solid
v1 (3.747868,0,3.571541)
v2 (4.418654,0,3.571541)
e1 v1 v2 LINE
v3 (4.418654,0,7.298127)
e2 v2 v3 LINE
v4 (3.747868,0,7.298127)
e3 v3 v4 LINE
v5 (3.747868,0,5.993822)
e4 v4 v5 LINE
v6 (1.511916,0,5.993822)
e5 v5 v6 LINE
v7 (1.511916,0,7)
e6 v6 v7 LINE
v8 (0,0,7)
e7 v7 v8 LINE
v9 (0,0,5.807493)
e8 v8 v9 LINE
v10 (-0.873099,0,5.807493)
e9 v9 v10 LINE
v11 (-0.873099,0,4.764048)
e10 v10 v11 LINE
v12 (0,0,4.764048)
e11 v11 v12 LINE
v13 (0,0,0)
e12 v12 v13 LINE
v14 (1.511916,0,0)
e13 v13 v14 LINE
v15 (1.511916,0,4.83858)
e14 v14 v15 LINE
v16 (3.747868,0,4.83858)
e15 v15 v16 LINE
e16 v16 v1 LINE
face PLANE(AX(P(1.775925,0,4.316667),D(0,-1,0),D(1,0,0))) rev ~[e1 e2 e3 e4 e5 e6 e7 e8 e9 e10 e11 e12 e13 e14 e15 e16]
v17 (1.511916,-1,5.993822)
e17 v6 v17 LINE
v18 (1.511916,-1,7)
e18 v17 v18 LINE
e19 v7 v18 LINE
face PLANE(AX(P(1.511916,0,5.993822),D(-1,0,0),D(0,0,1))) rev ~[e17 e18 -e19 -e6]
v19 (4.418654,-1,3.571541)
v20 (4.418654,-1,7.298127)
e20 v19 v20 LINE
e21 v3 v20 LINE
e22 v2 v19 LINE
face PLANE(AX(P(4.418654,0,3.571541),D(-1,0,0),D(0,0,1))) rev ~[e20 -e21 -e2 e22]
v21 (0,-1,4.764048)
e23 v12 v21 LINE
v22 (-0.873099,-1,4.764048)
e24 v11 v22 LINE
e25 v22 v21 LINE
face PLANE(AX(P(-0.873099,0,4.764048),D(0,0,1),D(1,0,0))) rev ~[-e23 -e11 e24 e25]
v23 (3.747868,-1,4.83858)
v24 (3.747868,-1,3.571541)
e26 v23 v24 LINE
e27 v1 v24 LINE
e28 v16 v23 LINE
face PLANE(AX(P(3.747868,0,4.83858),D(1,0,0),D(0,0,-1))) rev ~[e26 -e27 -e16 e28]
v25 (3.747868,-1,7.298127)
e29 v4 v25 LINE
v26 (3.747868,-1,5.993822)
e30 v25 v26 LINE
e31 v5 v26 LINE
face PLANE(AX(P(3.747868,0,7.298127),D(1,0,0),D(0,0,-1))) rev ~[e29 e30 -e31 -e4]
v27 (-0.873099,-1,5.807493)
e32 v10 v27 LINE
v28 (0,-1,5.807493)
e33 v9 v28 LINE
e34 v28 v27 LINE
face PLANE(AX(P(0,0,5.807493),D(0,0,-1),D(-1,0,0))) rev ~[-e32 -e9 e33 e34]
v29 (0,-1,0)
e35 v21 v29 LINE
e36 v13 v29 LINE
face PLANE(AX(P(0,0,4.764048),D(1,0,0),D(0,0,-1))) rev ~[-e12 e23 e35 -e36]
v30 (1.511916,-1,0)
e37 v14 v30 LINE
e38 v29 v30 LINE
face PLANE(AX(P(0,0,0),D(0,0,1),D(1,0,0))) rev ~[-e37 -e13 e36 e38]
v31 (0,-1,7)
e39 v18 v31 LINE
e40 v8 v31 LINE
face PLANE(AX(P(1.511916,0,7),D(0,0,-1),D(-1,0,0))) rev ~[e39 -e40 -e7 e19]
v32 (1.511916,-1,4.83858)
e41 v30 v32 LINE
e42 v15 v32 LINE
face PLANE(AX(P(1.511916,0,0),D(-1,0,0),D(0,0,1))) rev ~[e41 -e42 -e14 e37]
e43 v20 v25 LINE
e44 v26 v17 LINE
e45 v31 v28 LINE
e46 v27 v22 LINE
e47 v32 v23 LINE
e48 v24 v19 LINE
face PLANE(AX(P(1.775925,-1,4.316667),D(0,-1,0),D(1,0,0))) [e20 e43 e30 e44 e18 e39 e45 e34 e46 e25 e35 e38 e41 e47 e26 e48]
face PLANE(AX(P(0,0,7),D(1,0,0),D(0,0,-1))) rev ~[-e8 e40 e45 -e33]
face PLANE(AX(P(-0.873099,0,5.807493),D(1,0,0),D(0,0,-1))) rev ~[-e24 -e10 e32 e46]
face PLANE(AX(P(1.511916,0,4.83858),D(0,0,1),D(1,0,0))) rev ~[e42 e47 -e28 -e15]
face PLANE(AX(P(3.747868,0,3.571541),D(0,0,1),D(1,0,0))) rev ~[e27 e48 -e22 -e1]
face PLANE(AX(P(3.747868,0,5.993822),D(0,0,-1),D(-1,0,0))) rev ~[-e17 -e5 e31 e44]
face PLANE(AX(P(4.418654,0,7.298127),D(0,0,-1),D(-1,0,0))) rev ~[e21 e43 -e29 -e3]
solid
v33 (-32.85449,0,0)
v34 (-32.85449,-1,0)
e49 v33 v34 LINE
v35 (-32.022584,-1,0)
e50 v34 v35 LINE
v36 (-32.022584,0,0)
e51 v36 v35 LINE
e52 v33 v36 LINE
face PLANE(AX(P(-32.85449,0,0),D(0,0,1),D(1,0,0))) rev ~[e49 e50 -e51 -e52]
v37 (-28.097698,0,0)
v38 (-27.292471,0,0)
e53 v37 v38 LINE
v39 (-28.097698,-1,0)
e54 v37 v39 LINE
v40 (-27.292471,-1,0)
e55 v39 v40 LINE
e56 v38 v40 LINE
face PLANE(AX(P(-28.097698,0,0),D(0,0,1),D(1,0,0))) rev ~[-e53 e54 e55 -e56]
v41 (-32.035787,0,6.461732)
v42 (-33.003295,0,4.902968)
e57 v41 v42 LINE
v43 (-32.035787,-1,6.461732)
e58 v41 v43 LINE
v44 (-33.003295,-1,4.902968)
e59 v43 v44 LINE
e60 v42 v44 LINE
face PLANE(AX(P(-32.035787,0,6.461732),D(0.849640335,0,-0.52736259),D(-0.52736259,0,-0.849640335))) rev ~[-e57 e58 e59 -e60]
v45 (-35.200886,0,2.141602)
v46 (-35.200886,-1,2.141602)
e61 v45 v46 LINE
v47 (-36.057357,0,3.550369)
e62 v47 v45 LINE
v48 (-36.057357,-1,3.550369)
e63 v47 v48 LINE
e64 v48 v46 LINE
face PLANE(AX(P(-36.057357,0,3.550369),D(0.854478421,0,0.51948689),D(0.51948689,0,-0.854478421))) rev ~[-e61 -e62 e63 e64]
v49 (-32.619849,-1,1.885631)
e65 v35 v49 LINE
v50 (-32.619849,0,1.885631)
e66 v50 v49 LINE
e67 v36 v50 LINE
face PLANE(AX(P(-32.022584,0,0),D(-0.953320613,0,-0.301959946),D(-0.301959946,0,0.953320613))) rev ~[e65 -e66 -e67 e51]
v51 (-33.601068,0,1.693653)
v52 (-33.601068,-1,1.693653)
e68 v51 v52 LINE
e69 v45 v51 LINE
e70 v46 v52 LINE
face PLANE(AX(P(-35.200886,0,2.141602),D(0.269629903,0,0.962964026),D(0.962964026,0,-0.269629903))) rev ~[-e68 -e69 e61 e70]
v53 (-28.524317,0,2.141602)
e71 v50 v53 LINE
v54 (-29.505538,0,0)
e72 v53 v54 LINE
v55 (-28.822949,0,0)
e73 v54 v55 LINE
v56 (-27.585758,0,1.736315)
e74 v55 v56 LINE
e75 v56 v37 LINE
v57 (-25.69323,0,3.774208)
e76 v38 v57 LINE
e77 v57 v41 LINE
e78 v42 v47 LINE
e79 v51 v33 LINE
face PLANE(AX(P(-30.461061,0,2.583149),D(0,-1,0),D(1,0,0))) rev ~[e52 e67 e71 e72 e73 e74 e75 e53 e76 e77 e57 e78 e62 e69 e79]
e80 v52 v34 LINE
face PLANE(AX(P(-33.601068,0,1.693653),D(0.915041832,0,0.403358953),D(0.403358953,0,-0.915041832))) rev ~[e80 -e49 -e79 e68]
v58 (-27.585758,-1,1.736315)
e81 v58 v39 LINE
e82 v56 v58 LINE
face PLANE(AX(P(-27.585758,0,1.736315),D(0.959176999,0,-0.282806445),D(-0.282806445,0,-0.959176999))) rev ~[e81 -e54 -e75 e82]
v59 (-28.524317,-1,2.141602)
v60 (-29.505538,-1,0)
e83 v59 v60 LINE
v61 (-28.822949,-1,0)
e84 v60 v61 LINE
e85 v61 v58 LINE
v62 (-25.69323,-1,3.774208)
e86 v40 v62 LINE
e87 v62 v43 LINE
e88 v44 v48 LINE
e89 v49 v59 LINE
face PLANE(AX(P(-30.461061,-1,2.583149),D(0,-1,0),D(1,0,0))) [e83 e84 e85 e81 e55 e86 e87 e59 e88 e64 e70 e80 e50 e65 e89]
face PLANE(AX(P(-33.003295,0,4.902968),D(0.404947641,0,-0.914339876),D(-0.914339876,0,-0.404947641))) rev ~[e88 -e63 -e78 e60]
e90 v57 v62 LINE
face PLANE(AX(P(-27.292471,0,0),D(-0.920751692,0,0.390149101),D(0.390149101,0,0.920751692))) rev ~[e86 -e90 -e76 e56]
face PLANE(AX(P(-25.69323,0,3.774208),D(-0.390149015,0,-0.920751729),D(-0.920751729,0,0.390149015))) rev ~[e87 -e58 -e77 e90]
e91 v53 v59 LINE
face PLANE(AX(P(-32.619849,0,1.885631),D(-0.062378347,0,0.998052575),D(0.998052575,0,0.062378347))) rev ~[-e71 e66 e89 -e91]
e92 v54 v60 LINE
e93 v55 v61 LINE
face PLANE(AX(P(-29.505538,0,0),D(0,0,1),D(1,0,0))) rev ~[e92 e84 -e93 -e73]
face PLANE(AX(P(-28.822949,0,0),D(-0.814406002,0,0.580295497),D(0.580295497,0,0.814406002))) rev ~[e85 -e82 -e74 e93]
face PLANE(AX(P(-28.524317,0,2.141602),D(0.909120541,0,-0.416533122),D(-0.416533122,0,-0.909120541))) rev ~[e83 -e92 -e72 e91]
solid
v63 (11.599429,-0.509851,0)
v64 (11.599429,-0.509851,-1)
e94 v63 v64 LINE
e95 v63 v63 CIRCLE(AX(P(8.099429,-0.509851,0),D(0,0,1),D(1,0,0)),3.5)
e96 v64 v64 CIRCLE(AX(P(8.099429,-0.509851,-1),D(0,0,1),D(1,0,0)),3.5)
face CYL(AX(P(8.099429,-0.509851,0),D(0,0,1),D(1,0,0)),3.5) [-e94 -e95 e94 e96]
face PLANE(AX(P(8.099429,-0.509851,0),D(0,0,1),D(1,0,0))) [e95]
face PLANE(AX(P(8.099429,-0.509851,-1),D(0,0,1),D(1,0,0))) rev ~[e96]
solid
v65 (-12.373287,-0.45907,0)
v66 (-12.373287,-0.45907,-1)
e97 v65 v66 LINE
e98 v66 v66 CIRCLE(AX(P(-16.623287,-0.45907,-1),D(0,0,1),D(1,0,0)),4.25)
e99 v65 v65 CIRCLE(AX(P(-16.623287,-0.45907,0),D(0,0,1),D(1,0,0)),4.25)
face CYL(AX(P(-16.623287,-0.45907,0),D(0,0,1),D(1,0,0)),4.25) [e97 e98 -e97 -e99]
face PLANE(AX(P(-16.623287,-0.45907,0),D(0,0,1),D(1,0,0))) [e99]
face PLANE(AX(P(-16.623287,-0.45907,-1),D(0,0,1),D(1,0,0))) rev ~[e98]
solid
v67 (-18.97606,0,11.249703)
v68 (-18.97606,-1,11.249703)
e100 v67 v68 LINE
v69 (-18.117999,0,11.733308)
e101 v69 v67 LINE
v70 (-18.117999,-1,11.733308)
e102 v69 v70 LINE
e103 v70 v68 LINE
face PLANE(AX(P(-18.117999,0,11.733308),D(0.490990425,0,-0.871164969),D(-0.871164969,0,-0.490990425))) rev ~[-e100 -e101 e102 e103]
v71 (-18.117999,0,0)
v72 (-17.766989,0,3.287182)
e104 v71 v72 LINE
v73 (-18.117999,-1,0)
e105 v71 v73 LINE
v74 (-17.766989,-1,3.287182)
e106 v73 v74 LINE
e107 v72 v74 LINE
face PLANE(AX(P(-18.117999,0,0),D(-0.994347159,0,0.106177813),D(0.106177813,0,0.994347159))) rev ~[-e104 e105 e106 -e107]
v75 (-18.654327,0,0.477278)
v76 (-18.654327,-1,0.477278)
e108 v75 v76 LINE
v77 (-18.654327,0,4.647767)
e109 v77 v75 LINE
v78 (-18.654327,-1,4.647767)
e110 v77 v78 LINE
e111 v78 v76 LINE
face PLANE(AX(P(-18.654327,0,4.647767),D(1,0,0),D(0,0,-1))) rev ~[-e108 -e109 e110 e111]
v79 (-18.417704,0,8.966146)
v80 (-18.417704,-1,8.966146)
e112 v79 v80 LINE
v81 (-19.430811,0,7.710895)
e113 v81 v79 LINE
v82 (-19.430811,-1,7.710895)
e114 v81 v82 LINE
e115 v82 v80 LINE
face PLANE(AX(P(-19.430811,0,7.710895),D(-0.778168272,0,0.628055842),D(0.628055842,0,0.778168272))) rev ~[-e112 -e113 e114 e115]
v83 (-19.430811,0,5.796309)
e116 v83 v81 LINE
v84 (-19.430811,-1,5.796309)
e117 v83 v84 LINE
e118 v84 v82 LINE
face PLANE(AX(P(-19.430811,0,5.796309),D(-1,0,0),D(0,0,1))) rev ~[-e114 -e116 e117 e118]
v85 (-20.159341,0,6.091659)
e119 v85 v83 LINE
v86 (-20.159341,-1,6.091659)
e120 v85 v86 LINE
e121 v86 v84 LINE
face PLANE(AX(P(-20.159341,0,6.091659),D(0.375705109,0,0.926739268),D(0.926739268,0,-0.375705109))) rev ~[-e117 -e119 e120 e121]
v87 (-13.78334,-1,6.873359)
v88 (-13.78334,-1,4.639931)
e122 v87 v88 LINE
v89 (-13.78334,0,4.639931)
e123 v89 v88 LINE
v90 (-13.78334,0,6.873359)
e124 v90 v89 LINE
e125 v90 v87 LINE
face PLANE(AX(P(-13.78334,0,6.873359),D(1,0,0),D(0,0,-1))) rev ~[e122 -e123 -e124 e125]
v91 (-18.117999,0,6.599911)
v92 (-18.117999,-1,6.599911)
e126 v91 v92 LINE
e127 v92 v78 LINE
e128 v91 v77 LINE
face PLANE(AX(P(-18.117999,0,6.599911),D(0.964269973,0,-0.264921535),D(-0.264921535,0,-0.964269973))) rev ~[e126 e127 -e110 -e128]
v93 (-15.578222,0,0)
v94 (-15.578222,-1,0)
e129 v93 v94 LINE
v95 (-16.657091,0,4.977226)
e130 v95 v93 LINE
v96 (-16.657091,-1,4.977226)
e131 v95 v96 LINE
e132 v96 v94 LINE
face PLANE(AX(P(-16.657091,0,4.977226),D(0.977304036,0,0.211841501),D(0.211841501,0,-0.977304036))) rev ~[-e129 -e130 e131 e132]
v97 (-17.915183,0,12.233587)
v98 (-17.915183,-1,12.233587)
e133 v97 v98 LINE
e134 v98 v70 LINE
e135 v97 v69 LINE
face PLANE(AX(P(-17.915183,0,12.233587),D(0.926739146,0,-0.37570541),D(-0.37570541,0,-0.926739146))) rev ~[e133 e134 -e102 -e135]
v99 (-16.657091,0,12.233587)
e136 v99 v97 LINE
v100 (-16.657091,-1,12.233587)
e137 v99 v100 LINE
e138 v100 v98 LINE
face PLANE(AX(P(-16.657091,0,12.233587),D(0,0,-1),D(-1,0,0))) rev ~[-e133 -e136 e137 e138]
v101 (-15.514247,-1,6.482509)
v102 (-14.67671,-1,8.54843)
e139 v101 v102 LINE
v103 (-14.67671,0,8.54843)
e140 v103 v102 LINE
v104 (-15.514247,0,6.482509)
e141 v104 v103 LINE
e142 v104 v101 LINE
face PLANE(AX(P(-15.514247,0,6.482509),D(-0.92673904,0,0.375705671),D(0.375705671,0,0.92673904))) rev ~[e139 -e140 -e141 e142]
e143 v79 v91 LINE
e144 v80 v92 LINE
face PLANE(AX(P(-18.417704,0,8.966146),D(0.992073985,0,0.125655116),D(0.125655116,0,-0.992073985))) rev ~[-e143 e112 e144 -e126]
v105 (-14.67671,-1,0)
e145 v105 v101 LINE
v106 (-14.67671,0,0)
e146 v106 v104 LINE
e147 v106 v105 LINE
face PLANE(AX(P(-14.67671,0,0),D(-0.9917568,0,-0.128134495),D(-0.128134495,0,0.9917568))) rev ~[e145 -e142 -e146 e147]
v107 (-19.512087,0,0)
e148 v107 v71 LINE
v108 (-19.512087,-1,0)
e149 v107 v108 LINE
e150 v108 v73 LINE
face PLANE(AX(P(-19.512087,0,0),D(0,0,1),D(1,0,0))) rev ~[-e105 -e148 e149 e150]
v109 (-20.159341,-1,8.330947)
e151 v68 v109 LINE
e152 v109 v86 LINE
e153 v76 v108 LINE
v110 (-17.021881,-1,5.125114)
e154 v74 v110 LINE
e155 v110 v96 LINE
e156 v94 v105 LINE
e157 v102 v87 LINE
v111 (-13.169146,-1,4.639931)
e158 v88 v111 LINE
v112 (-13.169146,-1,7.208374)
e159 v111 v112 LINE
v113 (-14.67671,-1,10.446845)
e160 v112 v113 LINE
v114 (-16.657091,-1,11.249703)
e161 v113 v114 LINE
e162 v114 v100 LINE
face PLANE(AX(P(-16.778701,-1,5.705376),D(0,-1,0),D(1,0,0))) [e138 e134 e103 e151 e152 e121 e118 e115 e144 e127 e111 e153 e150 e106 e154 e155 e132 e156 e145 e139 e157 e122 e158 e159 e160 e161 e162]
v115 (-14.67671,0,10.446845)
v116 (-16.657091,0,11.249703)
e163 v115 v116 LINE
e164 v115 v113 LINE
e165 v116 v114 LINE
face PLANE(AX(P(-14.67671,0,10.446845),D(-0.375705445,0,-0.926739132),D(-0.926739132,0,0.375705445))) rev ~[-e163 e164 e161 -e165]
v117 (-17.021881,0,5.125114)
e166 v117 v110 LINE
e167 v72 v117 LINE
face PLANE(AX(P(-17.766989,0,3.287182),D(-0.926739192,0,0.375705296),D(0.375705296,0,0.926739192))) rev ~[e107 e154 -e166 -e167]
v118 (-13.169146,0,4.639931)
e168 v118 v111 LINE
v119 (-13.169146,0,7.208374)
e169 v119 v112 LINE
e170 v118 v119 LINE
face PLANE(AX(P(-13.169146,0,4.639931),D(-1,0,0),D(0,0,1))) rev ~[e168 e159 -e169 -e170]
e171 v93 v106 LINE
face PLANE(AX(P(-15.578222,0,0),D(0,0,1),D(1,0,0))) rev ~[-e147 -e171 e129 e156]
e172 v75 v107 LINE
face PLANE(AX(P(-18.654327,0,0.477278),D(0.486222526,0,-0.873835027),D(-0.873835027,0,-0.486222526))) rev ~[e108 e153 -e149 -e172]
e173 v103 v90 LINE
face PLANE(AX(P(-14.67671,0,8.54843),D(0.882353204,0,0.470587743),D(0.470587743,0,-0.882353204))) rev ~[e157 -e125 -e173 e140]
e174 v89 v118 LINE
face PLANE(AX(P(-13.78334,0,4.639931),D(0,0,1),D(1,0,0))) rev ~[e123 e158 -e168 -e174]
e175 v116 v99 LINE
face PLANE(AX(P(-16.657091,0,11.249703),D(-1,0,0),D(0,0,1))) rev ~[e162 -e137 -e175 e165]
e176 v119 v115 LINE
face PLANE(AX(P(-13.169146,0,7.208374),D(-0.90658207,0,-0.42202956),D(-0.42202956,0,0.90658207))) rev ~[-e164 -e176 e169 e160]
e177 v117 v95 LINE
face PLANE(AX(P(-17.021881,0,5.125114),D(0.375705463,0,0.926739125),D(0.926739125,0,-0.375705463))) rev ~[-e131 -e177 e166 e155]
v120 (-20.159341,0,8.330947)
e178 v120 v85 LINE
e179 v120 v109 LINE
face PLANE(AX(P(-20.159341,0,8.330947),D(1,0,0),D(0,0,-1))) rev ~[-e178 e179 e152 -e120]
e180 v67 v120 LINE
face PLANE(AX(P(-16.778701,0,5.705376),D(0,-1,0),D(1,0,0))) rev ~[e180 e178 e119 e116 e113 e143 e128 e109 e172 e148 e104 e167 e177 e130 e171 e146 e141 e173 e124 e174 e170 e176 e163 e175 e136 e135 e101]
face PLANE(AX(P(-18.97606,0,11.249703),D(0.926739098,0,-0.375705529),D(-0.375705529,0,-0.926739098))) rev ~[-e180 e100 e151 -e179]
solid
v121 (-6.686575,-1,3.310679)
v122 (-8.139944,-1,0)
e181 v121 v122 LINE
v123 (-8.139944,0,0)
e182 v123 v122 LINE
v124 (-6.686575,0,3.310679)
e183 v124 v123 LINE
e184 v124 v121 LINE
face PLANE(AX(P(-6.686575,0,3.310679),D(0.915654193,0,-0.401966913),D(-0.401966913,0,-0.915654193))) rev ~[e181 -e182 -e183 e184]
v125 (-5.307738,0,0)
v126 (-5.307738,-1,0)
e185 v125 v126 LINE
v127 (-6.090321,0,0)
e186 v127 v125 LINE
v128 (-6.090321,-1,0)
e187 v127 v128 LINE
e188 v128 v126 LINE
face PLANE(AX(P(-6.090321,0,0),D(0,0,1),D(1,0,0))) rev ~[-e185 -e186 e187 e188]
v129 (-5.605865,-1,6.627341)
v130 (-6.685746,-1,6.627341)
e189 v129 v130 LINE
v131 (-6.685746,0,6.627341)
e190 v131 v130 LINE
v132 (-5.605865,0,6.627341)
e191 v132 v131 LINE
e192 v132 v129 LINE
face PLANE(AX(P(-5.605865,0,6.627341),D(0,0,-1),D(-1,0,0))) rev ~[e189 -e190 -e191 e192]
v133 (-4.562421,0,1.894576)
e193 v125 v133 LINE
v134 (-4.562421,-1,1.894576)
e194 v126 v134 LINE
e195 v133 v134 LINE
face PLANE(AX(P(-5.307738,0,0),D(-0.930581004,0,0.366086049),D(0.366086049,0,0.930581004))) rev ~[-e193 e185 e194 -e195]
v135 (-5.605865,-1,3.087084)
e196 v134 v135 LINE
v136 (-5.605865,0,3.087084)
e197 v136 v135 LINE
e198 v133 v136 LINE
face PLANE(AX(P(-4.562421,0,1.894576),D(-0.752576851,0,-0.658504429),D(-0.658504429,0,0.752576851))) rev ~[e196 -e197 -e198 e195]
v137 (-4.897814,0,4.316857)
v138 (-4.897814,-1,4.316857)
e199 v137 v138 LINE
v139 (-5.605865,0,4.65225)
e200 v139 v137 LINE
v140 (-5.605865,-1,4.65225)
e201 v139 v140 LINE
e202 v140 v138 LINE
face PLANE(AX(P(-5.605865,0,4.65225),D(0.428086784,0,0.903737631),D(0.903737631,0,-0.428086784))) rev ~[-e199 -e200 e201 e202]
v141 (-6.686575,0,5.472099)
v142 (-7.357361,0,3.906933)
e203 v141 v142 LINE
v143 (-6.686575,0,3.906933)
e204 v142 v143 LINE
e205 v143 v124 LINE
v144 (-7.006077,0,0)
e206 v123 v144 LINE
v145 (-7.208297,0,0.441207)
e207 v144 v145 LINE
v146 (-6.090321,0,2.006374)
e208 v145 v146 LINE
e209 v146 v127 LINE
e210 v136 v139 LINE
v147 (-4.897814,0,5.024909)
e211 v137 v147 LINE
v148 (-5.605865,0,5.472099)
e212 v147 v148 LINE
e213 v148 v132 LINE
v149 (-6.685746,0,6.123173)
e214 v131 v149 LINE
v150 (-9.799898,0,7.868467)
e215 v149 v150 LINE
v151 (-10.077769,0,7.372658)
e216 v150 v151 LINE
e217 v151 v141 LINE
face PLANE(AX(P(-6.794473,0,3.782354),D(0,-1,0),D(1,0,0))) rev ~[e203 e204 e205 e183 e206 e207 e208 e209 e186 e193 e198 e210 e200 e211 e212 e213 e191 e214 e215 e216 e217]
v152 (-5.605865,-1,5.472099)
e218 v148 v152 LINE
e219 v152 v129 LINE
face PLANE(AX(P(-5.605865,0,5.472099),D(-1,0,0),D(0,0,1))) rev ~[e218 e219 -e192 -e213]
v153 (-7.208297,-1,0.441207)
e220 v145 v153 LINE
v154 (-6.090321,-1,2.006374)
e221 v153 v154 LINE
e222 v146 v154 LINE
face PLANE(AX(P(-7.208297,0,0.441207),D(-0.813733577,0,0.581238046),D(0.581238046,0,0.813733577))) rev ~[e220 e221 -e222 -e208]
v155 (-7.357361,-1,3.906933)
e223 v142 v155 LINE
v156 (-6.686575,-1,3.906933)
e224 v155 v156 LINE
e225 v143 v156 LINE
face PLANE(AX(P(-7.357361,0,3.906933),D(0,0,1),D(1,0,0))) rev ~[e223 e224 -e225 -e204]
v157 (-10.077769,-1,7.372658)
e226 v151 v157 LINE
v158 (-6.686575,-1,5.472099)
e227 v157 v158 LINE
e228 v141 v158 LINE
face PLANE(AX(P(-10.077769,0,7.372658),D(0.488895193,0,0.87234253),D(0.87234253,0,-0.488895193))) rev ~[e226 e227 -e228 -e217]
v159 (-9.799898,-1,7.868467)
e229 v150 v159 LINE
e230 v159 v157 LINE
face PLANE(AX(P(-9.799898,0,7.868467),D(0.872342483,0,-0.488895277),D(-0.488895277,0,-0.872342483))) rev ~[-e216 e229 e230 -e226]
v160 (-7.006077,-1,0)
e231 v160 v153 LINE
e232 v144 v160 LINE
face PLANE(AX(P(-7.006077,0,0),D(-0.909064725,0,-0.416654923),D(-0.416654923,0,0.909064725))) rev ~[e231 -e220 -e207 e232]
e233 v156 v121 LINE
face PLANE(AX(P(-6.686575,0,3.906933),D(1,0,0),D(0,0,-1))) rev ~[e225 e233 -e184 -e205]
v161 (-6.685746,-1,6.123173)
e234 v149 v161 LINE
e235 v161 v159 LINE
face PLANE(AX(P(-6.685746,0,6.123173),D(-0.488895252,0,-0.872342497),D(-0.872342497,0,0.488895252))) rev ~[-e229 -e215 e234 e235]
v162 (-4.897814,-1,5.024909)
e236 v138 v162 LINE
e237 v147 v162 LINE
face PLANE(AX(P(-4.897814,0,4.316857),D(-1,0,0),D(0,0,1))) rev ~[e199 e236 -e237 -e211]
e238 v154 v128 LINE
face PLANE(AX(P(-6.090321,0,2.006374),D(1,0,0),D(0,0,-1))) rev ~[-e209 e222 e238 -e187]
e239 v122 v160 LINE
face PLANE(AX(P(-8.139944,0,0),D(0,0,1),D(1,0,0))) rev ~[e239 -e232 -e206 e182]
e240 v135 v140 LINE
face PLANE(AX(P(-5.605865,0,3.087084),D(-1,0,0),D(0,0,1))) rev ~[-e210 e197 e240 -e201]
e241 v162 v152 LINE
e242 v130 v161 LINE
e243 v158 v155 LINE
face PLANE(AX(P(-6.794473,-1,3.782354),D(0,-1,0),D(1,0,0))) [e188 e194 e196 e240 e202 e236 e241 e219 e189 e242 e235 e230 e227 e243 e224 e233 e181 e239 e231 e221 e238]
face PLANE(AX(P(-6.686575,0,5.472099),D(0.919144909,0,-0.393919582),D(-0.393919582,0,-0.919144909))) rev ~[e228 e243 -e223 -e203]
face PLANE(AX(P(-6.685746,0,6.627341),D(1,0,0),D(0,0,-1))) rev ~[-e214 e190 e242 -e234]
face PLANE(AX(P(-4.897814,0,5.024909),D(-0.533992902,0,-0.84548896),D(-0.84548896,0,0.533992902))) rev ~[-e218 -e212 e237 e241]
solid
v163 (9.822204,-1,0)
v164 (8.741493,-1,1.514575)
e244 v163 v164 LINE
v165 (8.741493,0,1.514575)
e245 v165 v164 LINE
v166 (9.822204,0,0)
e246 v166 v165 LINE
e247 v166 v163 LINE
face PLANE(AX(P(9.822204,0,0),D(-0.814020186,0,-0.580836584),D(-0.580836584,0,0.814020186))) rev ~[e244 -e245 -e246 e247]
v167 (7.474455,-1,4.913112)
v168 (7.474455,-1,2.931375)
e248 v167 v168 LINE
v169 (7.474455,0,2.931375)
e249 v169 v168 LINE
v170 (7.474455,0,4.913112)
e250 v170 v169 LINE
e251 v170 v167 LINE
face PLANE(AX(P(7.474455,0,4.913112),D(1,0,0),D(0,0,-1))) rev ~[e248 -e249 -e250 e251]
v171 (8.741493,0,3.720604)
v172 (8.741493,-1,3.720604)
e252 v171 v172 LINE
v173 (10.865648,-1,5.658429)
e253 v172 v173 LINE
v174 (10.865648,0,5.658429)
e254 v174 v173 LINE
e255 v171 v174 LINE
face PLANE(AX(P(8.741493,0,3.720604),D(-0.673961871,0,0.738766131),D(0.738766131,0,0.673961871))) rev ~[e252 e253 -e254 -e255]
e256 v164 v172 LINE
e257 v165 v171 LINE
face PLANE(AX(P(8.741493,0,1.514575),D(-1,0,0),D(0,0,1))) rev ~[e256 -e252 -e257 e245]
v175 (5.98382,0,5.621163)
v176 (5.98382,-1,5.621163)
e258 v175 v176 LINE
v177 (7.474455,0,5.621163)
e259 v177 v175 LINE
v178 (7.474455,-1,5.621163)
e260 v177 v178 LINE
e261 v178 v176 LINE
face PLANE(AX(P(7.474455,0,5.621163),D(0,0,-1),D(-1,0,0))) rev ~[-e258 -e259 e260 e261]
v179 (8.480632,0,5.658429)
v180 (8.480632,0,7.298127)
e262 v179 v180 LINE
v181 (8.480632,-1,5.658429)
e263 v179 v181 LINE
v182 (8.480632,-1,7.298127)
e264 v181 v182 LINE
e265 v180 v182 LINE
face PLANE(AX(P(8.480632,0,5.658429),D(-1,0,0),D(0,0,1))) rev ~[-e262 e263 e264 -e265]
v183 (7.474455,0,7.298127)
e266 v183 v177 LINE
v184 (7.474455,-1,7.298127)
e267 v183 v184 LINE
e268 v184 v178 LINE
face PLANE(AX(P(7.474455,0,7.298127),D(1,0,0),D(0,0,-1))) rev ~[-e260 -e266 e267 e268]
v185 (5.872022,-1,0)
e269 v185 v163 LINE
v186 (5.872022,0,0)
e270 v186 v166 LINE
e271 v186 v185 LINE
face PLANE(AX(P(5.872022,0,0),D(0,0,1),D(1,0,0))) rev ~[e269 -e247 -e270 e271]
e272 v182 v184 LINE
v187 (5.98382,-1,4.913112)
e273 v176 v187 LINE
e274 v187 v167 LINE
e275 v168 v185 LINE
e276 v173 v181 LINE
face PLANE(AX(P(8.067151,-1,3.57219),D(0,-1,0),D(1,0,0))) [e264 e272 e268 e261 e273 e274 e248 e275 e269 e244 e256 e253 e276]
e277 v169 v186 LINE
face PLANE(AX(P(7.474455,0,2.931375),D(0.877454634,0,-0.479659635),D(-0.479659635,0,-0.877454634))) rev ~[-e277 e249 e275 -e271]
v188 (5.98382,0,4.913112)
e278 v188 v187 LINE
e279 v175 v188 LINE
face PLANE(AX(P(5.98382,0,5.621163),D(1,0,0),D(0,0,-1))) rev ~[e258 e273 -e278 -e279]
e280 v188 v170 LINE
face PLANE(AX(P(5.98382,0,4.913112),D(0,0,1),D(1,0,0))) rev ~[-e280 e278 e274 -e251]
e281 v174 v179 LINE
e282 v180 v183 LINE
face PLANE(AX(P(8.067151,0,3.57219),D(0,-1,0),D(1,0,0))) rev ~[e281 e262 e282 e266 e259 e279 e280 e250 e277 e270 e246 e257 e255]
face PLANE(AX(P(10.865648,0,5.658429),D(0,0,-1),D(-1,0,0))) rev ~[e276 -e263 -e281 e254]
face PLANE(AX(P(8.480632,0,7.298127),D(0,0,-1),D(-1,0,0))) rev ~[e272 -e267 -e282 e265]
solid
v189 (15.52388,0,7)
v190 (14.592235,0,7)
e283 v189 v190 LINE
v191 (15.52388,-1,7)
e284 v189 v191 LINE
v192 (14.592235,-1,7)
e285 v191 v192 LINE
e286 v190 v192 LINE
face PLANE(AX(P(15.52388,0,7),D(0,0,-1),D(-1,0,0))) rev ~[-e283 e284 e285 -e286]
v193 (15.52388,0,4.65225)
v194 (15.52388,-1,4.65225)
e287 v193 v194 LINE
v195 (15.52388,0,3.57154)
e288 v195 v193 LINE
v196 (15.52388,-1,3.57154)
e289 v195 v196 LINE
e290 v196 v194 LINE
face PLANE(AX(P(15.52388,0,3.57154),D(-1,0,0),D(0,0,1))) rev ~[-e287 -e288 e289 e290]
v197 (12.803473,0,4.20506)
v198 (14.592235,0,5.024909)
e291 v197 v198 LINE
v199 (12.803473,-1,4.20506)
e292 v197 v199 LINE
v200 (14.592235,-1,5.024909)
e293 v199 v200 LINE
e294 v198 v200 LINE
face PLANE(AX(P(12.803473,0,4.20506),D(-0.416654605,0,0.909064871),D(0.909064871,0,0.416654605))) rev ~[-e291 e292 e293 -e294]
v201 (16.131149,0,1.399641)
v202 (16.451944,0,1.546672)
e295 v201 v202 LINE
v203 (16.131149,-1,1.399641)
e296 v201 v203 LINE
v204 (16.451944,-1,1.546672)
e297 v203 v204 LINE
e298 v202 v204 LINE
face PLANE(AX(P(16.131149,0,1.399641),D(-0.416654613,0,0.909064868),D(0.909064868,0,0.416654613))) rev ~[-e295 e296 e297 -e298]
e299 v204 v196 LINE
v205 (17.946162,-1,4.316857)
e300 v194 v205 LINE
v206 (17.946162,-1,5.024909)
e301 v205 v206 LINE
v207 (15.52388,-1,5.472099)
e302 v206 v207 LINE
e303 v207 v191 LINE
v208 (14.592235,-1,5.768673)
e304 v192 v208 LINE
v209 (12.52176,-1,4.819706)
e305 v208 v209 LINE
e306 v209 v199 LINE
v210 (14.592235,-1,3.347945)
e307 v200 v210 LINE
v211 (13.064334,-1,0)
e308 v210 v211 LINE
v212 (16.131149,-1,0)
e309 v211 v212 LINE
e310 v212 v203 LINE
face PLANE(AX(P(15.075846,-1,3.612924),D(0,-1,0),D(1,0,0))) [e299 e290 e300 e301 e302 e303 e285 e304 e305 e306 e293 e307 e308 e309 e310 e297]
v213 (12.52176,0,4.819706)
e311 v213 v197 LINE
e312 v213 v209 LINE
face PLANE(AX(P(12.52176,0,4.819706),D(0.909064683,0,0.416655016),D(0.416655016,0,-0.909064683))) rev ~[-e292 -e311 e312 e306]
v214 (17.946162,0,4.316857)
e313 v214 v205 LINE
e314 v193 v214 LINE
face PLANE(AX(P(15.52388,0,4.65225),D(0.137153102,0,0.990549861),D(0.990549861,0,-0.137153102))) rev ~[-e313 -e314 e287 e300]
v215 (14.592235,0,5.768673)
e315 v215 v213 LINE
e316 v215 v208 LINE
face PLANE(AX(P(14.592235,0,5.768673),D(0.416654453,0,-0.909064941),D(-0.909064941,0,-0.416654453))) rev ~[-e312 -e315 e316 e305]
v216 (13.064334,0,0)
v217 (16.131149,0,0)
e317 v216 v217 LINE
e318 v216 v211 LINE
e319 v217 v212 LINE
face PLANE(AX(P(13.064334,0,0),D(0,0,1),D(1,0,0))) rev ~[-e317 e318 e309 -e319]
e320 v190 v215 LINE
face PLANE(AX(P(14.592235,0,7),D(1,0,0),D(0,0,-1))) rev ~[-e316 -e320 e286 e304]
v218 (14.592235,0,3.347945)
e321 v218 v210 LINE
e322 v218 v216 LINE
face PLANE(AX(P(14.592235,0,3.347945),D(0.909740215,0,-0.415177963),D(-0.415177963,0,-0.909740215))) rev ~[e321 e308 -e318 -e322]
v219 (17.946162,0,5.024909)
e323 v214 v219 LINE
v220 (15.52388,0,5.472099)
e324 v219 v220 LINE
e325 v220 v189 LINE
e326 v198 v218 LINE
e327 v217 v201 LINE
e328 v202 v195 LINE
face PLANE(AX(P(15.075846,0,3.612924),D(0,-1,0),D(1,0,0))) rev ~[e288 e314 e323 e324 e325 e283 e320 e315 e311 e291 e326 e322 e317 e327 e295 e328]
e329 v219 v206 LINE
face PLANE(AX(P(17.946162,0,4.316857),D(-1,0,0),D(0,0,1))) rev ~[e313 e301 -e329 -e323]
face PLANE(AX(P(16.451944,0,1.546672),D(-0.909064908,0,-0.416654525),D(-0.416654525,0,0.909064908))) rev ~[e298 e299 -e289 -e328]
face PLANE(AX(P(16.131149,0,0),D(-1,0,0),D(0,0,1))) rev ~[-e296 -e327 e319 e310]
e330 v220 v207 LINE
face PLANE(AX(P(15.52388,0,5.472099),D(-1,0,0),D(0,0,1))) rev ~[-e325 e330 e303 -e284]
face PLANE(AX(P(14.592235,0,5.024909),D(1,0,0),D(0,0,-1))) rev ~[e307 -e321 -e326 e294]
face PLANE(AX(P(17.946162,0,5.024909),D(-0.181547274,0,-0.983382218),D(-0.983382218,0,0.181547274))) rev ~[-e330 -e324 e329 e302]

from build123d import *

# Parameters (mm, degrees)
F1_DEPTH = 1
F2_R     = 3.5
F3_DEPTH = 1
F2_R_2   = 4.25
F4_DEPTH = 1


with BuildPart() as f1:
    # F0 (on Front) → F1 (new body)
    with BuildSketch(Plane.XZ):
        Polygon((0, 2.931375), (0, 0), (1.511916, 0), (1.511916, 4.83858), (3.747868, 4.83858), (3.747868, 3.571541), (4.418654, 3.571541), (4.418654, 7.298127), (3.747868, 7.298127), (3.747868, 5.993822), (1.511916, 5.993822), (1.511916, 7), (0, 7), (0, 5.807493), (-0.873099, 5.807493), (-0.873099, 4.764048), (0, 4.764048), align=None)
        Polygon((7.474455, 2.931375), (5.872022, 0), (9.822204, 0), (8.741493, 1.514575), (8.741493, 3.720604), (10.865648, 5.658429), (8.480632, 5.658429), (8.480632, 7.298127), (7.474455, 7.298127), (7.474455, 5.621163), (5.98382, 5.621163), (5.98382, 4.913112), (7.474455, 4.913112), align=None)
        Polygon((14.592235, 3.347945), (13.064334, 0), (16.131149, 0), (16.131149, 1.399641), (16.451944, 1.546672), (15.52388, 3.57154), (15.52388, 4.65225), (17.946162, 4.316857), (17.946162, 5.024909), (15.52388, 5.472099), (15.52388, 7), (14.592235, 7), (14.592235, 5.768673), (12.52176, 4.819706), (12.803473, 4.20506), (14.592235, 5.024909), align=None)
        Polygon((-6.686575, 3.310679), (-8.139944, 0), (-7.006077, 0), (-7.208297, 0.441207), (-6.090321, 2.006374), (-6.090321, 0), (-5.307738, 0), (-4.562421, 1.894576), (-5.605865, 3.087084), (-5.605865, 4.65225), (-4.897814, 4.316857), (-4.897814, 5.024909), (-5.605865, 5.472099), (-5.605865, 6.123173), (-5.605865, 6.627341), (-6.685746, 6.627341), (-6.685746, 6.123173), (-9.799898, 7.868467), (-10.077769, 7.372658), (-6.686575, 5.472099), (-7.357361, 3.906933), (-6.686575, 3.906933), align=None)
        Polygon((-15.578222, 0), (-14.67671, 0), (-15.514247, 6.482509), (-14.67671, 8.54843), (-13.78334, 6.873359), (-13.78334, 4.639931), (-13.169146, 4.639931), (-13.169146, 7.208374), (-14.67671, 10.446845), (-16.657091, 11.249703), (-16.657091, 12.233587), (-17.915183, 12.233587), (-18.117999, 11.733308), (-18.97606, 11.249703), (-20.159341, 8.330947), (-20.159341, 6.091659), (-19.430811, 5.796309), (-19.430811, 7.710895), (-18.417704, 8.966146), (-18.117999, 6.599911), (-18.654327, 4.647767), (-18.654327, 0.477278), (-19.512087, 0), (-18.117999, 0), (-17.766989, 3.287182), (-17.021881, 5.125114), (-16.657091, 4.977226), align=None)
        Polygon((-32.035787, 6.461732), (-33.003295, 4.902968), (-36.057357, 3.550369), (-35.200886, 2.141602), (-33.601068, 1.693653), (-32.85449, 0), (-32.022584, 0), (-32.619849, 1.885631), (-28.524317, 2.141602), (-29.505538, 0), (-28.822949, 0), (-27.585758, 1.736315), (-28.097698, 0), (-27.292471, 0), (-25.69323, 3.774208), align=None)
    extrude(amount=F1_DEPTH)


with BuildPart() as f3:
    # F2 (on Top) → F3 (new body)
    with BuildSketch(Plane.XY):
        with Locations((8.099429, -0.509851)):
            Circle(F2_R)
    extrude(amount=-F3_DEPTH)


with BuildPart() as f4:
    # F2 (on Top) → F4 (new body)
    with BuildSketch(Plane.XY):
        with Locations((-16.623287, -0.45907)):
            Circle(F2_R_2)
    extrude(amount=-F4_DEPTH)


solid = Compound([f1.part, f3.part, f4.part])
